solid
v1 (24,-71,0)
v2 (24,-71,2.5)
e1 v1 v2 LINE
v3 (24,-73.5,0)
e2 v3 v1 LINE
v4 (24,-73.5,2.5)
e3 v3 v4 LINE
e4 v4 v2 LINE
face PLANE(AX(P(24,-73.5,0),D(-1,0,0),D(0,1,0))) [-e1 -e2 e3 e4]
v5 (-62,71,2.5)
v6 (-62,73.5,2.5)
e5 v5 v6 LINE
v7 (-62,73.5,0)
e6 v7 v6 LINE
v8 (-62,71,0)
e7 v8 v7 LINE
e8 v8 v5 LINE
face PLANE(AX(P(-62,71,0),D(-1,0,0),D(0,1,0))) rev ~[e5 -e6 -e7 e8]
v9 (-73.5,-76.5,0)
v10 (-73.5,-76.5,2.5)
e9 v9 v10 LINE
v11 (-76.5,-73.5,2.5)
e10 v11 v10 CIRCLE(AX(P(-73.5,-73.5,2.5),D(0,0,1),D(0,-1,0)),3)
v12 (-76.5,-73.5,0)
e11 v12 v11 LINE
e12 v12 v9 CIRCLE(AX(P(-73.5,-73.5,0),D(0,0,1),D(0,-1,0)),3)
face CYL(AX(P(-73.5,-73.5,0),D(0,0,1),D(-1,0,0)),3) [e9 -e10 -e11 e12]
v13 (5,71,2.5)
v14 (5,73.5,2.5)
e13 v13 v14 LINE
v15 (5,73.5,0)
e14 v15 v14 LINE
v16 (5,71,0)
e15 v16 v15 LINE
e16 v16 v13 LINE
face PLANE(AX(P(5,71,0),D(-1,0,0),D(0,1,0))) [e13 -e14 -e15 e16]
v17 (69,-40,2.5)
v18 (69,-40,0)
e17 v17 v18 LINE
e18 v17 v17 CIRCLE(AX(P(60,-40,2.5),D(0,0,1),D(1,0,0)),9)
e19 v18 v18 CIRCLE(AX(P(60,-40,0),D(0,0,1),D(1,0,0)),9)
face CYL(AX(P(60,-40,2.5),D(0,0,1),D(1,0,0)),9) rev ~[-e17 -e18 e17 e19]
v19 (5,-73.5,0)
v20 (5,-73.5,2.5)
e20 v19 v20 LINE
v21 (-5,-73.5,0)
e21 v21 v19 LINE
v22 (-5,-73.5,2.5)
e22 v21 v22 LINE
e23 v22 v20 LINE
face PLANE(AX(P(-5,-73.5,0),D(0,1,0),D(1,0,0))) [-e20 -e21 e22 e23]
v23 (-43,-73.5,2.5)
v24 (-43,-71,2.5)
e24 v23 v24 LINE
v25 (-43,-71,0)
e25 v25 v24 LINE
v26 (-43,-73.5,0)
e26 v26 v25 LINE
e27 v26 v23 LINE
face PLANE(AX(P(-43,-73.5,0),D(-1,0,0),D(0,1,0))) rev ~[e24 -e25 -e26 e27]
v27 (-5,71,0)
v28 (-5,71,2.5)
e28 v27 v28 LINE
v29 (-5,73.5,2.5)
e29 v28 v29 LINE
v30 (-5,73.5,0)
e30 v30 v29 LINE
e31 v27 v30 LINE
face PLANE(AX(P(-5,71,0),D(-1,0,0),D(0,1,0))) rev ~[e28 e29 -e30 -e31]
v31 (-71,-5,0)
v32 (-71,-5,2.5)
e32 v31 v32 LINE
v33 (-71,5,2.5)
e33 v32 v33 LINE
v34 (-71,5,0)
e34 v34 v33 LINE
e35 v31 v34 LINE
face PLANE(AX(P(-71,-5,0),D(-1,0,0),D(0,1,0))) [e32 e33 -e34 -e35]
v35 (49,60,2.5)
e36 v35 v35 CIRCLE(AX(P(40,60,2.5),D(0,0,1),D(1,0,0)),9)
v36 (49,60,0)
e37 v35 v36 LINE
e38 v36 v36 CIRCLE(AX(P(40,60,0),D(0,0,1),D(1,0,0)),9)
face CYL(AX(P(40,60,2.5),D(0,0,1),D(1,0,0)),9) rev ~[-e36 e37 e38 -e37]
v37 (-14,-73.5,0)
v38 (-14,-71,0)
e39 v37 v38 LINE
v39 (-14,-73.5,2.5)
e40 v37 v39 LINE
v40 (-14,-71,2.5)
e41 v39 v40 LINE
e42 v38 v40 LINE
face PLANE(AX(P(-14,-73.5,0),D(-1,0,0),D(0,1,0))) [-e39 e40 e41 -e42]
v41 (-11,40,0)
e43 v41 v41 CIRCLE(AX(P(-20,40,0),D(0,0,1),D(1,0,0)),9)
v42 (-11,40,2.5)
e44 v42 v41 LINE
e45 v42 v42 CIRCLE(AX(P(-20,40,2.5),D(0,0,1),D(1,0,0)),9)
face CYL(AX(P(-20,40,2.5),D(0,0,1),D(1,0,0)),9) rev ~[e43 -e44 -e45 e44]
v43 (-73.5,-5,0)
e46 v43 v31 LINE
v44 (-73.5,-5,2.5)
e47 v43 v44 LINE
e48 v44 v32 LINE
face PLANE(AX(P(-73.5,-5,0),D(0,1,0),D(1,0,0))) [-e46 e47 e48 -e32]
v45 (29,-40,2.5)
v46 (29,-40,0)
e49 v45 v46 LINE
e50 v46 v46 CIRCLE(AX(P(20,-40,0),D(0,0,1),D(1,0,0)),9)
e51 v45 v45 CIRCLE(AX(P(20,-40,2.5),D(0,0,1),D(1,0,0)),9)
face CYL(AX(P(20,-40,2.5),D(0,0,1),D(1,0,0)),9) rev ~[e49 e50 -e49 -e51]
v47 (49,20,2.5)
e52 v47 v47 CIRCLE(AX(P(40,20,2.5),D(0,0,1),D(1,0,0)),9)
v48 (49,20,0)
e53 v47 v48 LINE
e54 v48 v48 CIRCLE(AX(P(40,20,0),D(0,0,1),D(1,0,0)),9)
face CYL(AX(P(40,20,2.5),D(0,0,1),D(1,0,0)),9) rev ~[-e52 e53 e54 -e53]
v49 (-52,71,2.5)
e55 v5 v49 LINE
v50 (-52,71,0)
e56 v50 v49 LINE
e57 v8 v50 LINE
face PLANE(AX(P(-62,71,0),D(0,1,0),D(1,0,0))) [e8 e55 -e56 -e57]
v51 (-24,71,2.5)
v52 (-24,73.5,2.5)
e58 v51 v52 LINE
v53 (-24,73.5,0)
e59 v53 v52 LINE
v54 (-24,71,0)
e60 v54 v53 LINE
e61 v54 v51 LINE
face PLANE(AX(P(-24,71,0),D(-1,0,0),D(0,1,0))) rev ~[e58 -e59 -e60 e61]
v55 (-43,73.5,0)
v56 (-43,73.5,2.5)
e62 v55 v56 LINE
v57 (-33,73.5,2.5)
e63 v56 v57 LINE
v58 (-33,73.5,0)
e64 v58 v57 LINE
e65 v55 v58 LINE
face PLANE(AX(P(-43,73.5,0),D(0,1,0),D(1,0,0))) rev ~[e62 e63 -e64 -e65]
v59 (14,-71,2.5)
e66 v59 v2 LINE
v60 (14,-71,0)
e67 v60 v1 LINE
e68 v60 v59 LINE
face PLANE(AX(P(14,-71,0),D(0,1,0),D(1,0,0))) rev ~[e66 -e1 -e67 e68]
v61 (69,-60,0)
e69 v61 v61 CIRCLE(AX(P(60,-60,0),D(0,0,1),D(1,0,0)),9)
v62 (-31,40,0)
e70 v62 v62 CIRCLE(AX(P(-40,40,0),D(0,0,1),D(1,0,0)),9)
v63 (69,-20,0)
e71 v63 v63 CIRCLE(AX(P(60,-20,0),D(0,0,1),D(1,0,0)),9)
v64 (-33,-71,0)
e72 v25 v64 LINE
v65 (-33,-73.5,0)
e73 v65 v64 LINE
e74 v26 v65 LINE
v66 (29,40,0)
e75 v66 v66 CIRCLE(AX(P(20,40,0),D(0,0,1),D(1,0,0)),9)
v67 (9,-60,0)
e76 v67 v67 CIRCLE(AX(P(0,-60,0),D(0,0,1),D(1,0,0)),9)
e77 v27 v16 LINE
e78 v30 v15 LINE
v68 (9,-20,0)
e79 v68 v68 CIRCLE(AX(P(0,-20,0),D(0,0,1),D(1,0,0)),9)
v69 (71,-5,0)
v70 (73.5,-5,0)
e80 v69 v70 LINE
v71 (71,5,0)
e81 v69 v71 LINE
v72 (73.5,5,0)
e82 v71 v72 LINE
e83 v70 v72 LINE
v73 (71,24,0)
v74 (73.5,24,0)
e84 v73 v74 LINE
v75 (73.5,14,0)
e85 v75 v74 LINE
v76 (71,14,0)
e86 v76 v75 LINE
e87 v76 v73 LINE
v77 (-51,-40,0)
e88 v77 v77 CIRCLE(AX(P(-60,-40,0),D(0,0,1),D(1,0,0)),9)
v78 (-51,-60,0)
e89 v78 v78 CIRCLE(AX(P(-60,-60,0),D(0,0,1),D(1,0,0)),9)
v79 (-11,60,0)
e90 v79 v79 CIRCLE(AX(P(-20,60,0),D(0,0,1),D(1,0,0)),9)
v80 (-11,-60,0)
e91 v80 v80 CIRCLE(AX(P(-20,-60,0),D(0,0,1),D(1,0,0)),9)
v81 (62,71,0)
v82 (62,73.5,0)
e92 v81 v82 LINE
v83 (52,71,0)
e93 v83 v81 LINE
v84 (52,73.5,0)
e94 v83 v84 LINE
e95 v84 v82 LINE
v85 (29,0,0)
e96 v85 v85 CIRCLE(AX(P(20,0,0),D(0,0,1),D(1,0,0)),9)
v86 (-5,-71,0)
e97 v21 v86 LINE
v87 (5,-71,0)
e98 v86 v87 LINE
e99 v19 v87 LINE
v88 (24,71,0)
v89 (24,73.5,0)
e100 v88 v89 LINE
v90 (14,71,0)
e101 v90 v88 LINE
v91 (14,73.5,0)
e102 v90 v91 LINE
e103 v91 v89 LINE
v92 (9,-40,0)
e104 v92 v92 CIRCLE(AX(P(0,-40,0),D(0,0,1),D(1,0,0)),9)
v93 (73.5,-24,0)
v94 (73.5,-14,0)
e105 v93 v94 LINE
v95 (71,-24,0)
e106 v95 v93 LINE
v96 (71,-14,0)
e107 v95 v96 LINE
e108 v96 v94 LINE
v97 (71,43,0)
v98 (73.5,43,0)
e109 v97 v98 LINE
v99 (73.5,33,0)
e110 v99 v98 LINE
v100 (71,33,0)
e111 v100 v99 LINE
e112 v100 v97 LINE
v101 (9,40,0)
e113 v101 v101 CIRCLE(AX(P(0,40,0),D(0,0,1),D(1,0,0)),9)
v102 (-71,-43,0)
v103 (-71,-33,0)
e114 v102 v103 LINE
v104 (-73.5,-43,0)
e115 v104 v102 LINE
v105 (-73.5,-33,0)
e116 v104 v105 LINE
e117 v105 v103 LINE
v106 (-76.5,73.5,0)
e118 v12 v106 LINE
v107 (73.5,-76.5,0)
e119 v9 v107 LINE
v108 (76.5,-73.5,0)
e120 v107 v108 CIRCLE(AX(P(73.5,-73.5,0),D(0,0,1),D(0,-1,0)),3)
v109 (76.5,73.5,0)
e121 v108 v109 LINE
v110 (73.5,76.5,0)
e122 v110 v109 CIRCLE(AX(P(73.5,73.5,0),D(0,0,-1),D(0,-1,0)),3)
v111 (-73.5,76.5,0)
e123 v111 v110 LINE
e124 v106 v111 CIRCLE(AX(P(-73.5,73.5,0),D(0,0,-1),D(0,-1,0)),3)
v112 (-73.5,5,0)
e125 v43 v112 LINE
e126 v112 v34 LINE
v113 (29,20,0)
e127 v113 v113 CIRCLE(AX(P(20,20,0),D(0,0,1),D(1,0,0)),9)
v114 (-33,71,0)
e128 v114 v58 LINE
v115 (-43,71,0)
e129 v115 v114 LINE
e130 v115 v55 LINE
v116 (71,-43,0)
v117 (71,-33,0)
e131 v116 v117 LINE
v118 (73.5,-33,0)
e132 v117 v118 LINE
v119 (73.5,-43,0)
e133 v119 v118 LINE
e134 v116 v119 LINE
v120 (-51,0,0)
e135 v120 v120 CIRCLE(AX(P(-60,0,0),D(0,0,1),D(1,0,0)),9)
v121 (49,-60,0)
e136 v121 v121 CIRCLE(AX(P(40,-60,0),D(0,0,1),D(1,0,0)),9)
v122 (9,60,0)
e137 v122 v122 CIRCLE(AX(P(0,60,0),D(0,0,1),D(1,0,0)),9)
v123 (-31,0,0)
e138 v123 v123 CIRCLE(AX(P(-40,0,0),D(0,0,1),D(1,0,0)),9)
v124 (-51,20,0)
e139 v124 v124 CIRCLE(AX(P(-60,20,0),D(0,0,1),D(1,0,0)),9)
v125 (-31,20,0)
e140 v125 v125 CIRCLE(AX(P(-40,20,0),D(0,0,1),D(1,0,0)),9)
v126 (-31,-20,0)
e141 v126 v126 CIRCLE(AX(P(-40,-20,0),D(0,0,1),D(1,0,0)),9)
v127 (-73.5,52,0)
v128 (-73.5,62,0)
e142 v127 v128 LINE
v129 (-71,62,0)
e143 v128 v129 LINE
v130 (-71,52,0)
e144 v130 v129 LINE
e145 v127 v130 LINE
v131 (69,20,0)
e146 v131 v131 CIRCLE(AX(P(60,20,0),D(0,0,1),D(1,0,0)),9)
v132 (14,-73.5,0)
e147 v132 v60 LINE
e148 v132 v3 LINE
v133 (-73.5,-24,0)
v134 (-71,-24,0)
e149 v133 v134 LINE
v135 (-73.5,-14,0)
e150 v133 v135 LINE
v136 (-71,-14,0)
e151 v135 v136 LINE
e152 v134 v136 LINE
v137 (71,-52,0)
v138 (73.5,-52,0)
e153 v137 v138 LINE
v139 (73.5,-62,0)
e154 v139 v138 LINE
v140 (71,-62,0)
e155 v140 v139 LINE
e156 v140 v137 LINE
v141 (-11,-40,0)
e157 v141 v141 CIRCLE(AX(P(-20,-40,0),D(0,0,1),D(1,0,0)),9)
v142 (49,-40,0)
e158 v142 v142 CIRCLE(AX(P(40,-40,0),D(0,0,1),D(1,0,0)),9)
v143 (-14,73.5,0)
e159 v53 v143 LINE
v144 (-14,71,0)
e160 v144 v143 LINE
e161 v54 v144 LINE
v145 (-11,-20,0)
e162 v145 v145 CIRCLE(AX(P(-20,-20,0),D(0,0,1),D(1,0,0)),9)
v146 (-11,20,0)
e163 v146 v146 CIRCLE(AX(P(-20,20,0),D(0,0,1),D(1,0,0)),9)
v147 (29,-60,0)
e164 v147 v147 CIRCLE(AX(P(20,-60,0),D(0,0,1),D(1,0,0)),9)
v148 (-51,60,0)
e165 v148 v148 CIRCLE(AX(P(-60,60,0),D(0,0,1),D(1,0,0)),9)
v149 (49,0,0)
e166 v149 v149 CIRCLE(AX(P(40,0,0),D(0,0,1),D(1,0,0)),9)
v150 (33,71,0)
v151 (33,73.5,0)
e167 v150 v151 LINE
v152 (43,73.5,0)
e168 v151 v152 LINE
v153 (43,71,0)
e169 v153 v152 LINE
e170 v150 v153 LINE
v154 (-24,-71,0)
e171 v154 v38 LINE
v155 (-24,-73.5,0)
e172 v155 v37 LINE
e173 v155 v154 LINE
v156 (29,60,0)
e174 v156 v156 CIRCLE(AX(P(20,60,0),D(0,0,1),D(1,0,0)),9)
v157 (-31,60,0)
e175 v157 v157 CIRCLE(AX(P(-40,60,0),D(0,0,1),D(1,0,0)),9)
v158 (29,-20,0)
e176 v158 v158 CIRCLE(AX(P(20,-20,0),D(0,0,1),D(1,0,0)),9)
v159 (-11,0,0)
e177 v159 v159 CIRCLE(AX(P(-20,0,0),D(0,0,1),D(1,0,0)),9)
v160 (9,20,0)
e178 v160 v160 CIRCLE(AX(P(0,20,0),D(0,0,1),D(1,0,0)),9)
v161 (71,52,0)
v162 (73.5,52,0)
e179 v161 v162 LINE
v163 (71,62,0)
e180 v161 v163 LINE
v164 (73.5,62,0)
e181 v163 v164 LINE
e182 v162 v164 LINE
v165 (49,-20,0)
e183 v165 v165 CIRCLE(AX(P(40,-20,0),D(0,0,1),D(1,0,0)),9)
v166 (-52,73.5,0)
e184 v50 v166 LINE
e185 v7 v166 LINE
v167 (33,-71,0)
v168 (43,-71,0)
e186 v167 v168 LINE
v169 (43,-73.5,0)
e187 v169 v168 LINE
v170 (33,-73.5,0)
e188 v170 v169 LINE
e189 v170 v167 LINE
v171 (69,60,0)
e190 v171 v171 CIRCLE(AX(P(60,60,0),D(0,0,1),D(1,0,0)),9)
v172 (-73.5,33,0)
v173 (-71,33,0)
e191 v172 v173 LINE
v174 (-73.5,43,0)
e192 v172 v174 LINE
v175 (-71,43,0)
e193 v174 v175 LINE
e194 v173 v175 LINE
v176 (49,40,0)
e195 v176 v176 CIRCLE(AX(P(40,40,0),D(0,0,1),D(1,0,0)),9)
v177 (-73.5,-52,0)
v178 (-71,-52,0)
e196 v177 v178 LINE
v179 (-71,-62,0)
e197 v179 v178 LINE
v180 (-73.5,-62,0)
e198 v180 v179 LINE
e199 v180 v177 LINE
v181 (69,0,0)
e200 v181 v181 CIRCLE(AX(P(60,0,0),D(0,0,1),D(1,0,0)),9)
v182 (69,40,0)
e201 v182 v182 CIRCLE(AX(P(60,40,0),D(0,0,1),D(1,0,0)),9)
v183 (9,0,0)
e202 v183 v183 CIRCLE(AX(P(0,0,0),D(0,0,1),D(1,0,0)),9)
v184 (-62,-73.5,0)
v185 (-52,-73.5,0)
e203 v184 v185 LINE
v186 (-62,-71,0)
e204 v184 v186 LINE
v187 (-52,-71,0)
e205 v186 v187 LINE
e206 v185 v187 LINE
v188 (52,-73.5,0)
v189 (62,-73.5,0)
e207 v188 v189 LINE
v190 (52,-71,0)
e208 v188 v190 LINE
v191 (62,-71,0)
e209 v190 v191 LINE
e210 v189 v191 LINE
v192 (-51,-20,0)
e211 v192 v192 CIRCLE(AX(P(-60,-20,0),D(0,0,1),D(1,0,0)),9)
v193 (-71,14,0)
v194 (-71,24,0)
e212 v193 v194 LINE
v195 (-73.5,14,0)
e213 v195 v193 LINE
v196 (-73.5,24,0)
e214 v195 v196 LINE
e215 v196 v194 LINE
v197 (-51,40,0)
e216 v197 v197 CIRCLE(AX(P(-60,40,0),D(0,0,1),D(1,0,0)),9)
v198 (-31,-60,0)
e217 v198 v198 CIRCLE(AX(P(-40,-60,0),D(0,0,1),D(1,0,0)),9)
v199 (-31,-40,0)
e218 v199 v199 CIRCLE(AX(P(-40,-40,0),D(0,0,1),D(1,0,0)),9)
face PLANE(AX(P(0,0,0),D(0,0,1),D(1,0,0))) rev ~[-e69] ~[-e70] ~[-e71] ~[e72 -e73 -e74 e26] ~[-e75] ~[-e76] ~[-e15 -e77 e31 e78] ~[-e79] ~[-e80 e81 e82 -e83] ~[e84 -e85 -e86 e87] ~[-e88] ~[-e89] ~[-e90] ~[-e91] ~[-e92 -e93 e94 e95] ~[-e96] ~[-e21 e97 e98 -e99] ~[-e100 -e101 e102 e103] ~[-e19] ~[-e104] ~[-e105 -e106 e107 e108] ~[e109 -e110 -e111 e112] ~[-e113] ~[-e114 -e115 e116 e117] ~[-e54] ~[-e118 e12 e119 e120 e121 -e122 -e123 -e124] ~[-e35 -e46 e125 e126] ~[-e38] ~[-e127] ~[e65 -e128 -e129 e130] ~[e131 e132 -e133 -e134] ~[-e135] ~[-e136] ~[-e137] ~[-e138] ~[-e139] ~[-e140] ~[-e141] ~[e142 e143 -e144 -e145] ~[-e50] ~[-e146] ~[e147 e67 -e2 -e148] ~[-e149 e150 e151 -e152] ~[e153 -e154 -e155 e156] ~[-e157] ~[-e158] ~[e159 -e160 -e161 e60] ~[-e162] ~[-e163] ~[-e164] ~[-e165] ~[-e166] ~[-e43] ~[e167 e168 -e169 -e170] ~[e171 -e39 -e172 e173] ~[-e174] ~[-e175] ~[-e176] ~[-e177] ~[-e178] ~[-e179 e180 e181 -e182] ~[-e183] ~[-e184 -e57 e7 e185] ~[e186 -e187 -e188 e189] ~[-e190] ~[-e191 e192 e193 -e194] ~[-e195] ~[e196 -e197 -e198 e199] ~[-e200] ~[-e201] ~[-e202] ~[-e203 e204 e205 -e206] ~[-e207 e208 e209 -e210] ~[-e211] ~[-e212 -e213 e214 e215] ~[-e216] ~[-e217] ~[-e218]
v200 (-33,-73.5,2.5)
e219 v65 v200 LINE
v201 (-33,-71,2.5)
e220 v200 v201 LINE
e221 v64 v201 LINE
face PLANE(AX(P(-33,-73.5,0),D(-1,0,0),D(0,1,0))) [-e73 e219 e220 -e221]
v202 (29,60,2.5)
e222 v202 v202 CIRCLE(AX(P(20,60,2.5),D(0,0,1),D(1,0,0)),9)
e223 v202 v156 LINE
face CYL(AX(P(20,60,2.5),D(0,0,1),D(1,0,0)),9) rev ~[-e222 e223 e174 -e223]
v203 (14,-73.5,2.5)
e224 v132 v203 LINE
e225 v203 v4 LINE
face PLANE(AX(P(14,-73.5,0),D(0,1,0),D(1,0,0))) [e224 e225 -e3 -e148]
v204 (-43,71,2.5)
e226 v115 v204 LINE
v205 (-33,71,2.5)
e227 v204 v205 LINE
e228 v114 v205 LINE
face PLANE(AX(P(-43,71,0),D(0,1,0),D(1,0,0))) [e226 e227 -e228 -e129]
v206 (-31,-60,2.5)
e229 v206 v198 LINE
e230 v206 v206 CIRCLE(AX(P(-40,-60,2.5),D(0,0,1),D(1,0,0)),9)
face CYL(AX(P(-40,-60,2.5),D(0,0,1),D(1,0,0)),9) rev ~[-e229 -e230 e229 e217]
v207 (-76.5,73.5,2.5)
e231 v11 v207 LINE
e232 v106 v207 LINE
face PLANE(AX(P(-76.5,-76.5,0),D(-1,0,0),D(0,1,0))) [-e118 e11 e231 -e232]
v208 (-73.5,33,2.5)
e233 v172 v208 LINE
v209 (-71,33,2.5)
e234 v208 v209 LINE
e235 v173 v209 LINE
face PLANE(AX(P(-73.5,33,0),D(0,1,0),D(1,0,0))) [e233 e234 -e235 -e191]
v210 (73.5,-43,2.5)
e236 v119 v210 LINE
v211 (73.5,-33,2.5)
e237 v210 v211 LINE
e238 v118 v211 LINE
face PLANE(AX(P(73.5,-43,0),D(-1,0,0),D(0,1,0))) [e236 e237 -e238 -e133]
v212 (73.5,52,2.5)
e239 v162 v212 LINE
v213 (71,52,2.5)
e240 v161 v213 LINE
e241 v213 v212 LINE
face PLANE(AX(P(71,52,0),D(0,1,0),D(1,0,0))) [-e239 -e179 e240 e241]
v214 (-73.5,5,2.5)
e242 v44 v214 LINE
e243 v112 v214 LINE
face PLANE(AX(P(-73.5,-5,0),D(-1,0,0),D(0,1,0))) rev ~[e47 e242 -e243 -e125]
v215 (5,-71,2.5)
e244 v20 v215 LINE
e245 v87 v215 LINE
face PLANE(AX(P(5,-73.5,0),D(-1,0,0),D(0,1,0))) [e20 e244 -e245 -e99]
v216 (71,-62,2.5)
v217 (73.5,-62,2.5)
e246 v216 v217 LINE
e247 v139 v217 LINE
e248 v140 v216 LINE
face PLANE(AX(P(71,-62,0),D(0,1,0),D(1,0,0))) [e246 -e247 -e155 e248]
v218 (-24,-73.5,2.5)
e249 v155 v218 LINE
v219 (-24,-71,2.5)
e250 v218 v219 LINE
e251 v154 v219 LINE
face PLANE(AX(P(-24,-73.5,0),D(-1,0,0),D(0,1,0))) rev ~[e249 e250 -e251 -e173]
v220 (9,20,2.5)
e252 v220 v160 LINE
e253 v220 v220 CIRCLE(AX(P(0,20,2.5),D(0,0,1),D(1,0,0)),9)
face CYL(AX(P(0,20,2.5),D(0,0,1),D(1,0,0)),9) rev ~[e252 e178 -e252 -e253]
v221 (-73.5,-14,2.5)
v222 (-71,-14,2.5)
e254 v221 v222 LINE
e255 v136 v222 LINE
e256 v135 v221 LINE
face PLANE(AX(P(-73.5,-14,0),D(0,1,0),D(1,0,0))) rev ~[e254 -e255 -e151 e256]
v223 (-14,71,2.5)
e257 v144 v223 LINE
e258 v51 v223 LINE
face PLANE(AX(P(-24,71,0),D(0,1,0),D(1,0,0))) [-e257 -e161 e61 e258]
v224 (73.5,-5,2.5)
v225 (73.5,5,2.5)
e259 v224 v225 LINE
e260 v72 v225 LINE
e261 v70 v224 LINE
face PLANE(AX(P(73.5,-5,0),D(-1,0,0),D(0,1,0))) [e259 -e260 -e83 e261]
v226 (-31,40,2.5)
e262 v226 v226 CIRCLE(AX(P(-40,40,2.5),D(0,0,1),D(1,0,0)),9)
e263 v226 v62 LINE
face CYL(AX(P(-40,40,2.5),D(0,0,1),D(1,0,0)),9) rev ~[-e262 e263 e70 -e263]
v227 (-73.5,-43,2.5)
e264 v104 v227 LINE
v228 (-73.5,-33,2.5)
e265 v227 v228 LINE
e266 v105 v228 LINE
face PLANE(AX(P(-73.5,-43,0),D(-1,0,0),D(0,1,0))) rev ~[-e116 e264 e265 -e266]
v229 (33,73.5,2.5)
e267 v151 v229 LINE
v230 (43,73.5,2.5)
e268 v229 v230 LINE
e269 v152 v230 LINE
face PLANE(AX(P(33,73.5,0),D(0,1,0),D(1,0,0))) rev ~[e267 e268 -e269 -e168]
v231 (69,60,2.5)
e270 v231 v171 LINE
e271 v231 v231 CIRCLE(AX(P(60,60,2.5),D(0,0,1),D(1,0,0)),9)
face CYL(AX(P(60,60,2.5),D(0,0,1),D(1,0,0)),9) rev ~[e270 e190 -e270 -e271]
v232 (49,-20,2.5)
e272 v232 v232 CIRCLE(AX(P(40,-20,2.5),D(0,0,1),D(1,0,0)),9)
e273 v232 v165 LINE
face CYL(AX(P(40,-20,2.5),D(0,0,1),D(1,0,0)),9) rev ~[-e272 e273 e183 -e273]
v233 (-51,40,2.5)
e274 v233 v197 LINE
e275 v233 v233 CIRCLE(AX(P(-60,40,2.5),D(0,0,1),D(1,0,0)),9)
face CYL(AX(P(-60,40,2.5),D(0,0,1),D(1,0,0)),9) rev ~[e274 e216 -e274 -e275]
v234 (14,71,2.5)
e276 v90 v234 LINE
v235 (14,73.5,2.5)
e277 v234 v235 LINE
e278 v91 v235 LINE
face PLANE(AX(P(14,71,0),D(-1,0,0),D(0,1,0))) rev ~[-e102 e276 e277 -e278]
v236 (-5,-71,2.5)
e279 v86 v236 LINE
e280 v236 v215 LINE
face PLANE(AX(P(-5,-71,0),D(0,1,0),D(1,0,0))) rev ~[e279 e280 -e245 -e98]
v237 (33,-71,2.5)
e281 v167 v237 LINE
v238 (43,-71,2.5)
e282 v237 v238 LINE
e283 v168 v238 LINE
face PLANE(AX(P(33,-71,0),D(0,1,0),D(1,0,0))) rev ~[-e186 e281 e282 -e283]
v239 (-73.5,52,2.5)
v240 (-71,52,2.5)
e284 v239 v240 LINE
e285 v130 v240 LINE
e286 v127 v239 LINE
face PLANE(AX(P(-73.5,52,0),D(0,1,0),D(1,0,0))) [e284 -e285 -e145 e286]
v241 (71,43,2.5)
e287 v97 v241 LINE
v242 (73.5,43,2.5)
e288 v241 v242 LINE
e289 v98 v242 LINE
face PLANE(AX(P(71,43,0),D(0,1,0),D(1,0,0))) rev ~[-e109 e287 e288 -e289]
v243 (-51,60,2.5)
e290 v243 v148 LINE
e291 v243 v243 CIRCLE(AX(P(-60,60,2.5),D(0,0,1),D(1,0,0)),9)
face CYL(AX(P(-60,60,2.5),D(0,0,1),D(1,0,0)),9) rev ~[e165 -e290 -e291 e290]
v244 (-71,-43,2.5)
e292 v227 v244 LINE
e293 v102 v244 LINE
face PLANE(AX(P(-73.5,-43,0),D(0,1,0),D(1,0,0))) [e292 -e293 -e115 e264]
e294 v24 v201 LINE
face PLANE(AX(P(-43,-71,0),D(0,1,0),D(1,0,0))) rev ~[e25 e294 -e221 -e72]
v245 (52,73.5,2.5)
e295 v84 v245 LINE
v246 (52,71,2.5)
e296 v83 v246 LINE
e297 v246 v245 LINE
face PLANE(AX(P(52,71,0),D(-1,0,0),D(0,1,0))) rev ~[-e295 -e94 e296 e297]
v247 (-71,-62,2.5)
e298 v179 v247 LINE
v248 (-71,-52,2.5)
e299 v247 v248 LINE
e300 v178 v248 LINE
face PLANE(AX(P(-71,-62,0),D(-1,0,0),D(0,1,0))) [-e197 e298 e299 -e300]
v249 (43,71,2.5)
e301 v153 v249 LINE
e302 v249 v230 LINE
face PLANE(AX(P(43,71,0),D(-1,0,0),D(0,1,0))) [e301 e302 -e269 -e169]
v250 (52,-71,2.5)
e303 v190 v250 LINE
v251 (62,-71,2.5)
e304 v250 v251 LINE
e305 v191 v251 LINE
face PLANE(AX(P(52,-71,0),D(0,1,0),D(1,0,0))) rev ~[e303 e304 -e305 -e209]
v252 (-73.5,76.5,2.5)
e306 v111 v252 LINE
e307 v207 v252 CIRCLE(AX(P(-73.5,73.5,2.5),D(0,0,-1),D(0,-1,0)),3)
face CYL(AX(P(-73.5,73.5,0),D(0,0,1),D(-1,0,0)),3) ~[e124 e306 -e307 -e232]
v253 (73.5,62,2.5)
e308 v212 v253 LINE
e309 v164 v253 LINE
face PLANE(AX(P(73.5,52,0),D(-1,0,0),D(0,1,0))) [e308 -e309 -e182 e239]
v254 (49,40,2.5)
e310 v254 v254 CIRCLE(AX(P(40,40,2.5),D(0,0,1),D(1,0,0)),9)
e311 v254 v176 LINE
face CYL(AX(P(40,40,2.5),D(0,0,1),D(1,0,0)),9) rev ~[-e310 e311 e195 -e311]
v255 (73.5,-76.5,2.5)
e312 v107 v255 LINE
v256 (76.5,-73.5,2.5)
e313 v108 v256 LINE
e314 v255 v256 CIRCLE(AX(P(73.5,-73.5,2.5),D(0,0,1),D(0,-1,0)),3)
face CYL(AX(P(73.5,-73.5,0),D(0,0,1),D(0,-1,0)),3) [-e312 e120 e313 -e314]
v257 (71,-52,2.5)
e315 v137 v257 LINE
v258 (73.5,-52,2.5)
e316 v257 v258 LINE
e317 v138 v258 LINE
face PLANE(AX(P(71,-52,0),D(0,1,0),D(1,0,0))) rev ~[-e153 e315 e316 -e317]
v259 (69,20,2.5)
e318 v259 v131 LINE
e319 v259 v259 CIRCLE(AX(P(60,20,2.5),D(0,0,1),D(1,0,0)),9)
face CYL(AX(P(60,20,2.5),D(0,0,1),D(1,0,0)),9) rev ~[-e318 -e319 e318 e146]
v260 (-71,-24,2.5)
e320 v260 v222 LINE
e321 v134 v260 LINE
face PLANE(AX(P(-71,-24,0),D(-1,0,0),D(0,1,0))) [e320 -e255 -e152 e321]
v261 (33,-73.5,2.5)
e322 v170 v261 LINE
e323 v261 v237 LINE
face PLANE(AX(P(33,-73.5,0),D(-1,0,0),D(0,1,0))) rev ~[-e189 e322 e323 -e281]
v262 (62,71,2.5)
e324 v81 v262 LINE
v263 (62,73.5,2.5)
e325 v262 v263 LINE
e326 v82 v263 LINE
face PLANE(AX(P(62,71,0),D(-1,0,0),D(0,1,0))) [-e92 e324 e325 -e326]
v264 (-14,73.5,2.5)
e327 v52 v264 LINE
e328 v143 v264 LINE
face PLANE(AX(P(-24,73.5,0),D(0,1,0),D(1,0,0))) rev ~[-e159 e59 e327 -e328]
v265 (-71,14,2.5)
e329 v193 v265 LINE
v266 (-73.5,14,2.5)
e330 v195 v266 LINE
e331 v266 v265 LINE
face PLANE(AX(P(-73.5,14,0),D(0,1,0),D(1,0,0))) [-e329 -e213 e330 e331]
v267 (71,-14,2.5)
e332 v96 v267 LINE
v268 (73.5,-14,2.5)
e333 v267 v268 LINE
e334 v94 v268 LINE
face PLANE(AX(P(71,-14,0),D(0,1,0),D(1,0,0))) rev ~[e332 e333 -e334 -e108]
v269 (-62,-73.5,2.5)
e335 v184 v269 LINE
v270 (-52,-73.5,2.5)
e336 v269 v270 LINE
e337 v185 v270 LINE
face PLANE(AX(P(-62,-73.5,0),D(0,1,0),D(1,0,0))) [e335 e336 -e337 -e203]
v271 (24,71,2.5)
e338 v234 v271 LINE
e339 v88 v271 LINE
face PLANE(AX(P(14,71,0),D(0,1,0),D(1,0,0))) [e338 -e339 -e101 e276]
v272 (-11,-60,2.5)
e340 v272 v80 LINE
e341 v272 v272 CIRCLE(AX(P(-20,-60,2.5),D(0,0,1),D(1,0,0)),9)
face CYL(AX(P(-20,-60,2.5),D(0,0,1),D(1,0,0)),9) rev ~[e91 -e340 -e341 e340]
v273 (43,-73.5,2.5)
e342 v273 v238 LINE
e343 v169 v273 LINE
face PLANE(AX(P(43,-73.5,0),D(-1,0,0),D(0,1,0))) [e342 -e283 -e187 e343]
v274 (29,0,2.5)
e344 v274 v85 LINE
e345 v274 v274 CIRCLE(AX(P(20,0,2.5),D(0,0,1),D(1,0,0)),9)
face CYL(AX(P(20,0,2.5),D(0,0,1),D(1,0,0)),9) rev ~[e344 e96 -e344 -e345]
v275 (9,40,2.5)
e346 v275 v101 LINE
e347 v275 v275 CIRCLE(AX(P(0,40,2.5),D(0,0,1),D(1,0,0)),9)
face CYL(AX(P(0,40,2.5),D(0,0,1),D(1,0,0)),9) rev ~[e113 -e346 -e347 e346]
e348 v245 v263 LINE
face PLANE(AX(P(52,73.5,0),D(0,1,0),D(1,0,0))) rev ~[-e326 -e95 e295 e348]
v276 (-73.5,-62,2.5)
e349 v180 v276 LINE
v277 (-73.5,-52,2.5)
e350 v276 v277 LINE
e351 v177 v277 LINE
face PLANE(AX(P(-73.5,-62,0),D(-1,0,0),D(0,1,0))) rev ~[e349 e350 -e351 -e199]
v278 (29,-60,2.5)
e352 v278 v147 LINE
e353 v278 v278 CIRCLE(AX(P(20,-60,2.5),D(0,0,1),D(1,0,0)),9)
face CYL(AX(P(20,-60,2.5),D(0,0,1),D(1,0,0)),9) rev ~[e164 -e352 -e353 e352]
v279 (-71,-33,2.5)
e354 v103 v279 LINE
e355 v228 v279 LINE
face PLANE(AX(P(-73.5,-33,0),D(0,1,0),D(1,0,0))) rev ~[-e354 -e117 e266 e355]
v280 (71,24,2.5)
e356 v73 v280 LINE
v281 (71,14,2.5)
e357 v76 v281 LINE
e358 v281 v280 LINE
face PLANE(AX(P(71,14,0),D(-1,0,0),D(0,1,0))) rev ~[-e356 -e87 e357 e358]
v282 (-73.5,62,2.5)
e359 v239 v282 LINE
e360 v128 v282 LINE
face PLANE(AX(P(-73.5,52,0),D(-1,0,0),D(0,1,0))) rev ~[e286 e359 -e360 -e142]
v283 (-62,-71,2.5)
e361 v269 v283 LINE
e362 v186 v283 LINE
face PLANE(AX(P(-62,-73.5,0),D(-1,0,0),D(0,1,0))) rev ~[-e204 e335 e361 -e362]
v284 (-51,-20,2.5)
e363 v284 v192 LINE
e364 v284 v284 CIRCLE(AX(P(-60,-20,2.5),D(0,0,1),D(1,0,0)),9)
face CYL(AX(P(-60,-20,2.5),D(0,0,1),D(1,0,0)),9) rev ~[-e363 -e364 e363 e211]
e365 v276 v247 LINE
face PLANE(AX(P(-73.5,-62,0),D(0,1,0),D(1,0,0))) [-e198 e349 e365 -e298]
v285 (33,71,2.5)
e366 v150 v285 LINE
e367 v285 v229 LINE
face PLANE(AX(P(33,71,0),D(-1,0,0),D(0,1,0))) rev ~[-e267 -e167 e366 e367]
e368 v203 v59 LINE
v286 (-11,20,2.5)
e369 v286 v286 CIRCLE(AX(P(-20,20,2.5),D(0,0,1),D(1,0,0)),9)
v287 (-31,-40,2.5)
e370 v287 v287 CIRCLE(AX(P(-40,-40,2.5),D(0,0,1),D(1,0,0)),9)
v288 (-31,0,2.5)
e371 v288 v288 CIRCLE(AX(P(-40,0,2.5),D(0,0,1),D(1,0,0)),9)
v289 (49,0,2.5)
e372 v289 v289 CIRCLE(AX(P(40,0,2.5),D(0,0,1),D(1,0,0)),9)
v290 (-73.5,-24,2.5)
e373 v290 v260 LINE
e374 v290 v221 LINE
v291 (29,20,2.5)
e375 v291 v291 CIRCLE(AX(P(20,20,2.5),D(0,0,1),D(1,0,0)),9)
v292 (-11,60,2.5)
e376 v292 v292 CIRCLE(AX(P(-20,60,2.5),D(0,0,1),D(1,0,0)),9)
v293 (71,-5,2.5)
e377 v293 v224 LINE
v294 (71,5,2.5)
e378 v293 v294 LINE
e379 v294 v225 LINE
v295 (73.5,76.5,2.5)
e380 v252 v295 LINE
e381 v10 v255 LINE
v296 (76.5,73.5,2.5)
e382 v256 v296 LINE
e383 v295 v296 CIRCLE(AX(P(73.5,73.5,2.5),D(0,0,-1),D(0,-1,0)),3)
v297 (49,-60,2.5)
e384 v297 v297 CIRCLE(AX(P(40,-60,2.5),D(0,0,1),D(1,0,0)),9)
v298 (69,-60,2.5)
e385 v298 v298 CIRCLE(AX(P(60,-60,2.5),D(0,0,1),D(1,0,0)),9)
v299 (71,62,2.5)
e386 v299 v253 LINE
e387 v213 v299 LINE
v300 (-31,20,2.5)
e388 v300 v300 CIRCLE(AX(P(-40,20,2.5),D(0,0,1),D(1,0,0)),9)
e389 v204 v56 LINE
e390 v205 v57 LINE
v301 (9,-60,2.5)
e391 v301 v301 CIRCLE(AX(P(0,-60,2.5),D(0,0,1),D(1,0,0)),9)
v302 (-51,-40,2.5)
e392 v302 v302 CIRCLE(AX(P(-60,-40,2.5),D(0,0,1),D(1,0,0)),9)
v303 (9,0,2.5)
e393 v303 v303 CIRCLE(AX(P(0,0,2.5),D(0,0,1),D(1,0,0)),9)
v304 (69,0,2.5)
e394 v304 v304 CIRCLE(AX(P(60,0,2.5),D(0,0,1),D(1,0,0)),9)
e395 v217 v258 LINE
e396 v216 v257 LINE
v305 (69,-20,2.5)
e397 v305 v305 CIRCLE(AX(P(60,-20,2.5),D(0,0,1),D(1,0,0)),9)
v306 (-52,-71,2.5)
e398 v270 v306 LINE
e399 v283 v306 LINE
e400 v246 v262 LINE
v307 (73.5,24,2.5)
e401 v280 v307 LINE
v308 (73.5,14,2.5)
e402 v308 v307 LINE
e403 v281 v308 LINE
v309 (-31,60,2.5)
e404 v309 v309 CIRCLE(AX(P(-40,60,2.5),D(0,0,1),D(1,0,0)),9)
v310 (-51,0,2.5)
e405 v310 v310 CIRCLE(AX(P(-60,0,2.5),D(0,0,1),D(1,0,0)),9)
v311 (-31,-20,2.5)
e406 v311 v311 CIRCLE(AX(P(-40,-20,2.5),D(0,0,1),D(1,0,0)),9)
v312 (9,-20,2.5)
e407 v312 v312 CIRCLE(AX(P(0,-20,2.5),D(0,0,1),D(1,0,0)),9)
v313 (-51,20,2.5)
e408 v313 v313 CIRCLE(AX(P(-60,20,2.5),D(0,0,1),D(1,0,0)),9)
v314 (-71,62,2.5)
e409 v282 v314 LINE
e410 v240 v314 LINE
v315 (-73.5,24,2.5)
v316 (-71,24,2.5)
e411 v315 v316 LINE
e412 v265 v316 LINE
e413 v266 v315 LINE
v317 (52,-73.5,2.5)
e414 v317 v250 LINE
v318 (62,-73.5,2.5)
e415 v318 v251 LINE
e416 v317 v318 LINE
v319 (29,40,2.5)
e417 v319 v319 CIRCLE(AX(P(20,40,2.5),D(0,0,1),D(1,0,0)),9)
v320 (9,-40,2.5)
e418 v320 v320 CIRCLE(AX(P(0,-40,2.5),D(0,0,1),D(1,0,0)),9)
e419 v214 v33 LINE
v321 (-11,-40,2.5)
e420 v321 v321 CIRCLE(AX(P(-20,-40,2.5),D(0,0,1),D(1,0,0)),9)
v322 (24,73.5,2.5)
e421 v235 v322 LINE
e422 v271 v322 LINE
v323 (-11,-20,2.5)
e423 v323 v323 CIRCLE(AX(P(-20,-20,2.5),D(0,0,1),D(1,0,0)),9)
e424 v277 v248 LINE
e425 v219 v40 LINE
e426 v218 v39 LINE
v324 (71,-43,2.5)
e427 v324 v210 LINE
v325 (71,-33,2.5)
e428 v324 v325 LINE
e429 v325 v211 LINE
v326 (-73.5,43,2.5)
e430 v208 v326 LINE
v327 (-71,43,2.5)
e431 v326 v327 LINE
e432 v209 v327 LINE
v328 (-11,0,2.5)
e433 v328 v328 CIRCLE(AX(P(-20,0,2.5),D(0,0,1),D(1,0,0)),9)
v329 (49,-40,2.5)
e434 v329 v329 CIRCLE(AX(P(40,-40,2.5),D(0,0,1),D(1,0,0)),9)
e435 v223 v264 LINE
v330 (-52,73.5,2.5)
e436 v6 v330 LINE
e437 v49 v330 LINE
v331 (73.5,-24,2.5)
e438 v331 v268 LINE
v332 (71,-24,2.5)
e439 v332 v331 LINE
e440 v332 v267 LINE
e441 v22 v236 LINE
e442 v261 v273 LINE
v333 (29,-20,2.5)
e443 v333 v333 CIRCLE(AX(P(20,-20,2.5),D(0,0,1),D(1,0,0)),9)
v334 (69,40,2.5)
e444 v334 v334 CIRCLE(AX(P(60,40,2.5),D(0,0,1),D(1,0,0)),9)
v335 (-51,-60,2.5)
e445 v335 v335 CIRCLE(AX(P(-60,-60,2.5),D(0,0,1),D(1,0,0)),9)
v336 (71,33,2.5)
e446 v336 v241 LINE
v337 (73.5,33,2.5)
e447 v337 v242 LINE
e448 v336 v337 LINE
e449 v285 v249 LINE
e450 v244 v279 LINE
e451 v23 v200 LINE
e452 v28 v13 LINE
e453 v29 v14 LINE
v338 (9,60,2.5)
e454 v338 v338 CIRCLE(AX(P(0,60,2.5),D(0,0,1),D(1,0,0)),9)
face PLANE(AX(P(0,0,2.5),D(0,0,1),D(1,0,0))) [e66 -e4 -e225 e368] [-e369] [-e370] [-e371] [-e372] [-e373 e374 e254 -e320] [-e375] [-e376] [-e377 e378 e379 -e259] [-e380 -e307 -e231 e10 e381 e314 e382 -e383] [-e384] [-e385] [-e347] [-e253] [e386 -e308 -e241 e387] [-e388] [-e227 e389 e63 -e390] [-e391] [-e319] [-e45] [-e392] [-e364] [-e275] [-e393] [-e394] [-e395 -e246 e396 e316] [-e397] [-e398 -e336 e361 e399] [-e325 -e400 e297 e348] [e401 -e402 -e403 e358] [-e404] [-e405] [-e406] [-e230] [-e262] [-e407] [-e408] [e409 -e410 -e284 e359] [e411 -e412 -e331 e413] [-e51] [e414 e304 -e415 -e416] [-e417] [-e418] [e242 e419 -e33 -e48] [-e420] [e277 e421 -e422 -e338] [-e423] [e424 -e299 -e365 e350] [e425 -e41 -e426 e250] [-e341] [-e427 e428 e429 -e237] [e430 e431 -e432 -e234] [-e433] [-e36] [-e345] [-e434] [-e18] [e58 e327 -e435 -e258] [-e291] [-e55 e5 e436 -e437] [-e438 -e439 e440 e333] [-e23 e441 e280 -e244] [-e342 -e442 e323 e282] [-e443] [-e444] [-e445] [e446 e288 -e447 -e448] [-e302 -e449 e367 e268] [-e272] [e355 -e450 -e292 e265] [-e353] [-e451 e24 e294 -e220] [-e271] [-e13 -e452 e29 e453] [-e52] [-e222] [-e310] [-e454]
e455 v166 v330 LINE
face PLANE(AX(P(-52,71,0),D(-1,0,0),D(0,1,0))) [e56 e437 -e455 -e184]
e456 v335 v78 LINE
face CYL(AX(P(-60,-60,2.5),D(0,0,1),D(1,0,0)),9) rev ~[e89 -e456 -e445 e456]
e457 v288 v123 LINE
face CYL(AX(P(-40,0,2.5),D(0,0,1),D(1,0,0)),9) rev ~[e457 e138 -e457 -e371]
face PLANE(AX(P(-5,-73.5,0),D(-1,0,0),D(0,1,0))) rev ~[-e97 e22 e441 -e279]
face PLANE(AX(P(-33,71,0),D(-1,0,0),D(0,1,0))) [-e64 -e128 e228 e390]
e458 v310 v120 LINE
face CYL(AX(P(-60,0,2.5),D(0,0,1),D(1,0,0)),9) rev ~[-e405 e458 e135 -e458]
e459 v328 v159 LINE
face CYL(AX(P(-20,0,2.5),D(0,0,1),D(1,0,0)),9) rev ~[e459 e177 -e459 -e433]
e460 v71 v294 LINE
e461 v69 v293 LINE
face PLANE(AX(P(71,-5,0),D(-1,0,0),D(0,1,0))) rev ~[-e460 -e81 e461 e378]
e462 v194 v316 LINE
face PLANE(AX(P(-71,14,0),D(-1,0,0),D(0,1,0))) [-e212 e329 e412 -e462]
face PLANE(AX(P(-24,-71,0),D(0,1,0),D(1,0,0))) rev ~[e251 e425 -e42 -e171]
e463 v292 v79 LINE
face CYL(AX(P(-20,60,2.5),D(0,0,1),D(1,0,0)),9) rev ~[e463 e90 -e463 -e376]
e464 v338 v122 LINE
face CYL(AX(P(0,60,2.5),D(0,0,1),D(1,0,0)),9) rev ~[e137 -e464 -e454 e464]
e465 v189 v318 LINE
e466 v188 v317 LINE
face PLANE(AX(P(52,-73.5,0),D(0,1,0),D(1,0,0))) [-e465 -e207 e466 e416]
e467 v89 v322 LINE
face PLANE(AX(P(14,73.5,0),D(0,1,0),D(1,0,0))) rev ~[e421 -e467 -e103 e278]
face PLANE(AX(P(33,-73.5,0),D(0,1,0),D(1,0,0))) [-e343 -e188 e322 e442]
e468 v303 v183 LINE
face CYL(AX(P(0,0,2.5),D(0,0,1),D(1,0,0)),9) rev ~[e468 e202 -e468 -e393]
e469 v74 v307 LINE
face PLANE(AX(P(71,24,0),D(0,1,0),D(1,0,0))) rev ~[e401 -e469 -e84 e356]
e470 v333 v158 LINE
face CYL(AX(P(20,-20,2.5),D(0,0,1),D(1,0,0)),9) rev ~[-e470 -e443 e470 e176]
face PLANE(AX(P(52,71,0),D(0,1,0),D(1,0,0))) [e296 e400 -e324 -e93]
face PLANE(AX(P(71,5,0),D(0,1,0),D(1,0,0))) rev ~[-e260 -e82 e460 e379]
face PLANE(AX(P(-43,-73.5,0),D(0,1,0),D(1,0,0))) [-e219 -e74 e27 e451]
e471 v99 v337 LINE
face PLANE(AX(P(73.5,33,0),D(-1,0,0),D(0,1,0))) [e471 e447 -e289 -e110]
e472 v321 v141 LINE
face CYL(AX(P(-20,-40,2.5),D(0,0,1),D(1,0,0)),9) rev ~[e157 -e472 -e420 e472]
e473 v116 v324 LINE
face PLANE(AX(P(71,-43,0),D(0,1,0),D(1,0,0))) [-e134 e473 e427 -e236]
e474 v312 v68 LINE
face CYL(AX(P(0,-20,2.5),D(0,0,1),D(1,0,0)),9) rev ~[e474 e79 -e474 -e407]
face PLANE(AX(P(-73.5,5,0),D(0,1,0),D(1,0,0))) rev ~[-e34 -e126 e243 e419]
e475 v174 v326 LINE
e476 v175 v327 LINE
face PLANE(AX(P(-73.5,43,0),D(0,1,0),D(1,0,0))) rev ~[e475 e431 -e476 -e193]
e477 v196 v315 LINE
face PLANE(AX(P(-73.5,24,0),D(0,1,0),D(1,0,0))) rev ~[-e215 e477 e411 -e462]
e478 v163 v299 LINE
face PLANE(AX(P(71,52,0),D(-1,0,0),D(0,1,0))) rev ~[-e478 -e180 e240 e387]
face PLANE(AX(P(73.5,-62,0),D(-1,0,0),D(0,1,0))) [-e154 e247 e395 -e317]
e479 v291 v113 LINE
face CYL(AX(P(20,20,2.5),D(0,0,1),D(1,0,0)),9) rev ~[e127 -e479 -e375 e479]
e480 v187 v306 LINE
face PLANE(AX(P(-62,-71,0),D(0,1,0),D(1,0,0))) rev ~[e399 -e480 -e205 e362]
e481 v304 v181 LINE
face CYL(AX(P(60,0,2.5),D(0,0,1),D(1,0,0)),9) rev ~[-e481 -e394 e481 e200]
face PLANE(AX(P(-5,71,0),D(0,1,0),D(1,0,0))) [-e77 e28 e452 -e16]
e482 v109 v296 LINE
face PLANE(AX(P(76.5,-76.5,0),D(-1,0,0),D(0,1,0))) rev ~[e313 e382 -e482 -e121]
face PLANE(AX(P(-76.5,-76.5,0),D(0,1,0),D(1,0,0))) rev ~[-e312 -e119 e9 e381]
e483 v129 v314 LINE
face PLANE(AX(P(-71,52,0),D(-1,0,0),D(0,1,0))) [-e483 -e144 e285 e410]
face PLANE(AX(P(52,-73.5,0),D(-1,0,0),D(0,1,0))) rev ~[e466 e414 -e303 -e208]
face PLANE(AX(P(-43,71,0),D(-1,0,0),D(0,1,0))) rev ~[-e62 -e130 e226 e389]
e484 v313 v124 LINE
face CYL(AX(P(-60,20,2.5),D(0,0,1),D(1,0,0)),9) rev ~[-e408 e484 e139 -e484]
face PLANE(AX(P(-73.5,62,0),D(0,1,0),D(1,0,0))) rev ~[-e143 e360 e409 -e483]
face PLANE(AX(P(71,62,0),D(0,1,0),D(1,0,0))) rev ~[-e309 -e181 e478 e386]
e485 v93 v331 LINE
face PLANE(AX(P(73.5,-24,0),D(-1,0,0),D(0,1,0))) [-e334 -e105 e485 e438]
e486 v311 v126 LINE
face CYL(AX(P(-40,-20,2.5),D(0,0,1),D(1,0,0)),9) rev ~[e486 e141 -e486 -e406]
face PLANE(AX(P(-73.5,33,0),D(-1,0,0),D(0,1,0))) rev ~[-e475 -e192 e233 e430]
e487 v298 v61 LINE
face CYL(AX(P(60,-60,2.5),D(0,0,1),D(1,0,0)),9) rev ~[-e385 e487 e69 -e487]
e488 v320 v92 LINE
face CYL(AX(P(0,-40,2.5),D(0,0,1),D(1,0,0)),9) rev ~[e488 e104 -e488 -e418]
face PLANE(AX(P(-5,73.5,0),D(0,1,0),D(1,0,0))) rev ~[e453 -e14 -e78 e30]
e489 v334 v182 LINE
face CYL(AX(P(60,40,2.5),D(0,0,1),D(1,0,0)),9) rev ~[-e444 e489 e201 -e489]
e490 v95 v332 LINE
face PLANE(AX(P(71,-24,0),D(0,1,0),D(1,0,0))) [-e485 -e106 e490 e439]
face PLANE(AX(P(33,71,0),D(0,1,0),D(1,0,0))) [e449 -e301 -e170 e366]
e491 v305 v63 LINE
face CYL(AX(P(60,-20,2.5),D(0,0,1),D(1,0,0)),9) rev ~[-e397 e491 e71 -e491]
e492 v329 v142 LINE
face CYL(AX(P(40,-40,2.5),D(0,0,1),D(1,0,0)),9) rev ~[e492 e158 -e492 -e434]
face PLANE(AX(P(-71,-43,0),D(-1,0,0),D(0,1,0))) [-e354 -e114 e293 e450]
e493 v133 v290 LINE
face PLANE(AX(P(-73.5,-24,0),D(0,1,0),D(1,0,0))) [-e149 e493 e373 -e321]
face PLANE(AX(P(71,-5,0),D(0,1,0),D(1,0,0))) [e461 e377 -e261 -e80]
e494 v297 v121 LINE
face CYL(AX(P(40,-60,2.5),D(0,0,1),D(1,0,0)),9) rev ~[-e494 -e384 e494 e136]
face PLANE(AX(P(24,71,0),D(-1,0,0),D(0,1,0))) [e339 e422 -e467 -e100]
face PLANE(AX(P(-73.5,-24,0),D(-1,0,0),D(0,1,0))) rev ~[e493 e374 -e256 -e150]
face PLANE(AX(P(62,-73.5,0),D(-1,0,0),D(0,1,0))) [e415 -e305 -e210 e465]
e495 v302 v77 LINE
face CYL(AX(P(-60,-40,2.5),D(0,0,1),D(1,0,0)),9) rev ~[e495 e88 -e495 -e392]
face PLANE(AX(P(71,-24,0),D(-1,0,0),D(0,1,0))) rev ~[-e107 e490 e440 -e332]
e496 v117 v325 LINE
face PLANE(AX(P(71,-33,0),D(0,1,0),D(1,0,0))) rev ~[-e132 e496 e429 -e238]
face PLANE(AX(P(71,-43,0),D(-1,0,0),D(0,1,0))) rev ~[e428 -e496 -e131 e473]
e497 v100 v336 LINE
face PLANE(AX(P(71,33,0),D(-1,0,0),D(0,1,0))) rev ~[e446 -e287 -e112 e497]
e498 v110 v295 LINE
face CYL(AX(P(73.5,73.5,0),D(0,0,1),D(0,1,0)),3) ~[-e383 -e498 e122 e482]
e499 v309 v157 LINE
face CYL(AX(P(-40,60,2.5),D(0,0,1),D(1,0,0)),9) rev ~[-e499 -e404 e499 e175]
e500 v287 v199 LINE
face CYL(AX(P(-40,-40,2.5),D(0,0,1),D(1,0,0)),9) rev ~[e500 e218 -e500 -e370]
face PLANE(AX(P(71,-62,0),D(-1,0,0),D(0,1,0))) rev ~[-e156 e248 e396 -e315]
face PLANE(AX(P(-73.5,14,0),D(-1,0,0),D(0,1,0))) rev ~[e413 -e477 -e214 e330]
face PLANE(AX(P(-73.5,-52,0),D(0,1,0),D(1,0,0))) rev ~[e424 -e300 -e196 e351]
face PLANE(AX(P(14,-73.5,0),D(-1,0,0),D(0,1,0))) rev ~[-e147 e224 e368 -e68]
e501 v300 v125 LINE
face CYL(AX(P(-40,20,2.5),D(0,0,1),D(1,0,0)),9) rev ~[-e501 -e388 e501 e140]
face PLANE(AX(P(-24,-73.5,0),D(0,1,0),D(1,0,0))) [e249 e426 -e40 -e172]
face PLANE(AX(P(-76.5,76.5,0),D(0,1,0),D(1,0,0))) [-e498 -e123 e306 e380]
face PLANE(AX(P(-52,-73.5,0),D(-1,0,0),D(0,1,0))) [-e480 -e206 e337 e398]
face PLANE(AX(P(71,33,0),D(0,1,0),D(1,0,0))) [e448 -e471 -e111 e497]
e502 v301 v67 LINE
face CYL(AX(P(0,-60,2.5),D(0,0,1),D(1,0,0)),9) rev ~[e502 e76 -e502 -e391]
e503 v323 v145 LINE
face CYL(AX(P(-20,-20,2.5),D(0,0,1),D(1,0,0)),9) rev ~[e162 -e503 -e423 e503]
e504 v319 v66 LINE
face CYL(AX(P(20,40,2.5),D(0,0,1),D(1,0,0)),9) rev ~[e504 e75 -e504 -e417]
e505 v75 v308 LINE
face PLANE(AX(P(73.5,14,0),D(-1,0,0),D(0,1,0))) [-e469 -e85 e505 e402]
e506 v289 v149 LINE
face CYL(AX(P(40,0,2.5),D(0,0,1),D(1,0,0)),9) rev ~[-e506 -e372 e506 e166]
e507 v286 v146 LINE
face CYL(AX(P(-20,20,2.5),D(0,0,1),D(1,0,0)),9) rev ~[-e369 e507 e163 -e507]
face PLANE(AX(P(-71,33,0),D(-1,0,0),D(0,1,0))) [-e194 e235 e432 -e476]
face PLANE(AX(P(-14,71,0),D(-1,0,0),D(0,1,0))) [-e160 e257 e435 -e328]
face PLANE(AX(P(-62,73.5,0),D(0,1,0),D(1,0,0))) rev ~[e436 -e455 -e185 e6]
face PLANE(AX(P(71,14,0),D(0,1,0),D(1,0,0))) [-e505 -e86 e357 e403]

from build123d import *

# Parameters (mm, degrees)
SKETCH1_W           = 153
SKETCH1_H           = 153
SKETCH1_W_2         = 2.5
SKETCH1_H_2         = 10
SKETCH1_W_3         = 10
SKETCH1_H_3         = 2.5
BOSS_EXTRUDE1_DEPTH = 2.5
SKETCH2_R           = 9
CUT_EXTRUDE1_DEPTH  = 2.5
FILLET1_R           = 3


with BuildPart() as part:
    # Sketch1 → Boss-Extrude1 (new body)
    with BuildSketch(Plane.XY):
        Rectangle(SKETCH1_W, SKETCH1_H)
        with Locations((-72.25, 57)):
            Rectangle(SKETCH1_W_2, SKETCH1_H_2, mode=Mode.SUBTRACT)
        with Locations((-72.25, 38)):
            Rectangle(SKETCH1_W_2, SKETCH1_H_2, mode=Mode.SUBTRACT)
        with Locations((-72.25, 19)):
            Rectangle(SKETCH1_W_2, SKETCH1_H_2, mode=Mode.SUBTRACT)
        with Locations((-72.25, 0)):
            Rectangle(SKETCH1_W_2, SKETCH1_H_2, mode=Mode.SUBTRACT)
        with Locations((-72.25, -19)):
            Rectangle(SKETCH1_W_2, SKETCH1_H_2, mode=Mode.SUBTRACT)
        with Locations((-72.25, -38)):
            Rectangle(SKETCH1_W_2, SKETCH1_H_2, mode=Mode.SUBTRACT)
        with Locations((-72.25, -57)):
            Rectangle(SKETCH1_W_2, SKETCH1_H_2, mode=Mode.SUBTRACT)
        with Locations((72.25, -19)):
            Rectangle(SKETCH1_W_2, SKETCH1_H_2, mode=Mode.SUBTRACT)
        with Locations((72.25, -38)):
            Rectangle(SKETCH1_W_2, SKETCH1_H_2, mode=Mode.SUBTRACT)
        with Locations((72.25, -57)):
            Rectangle(SKETCH1_W_2, SKETCH1_H_2, mode=Mode.SUBTRACT)
        with Locations((72.25, 0)):
            Rectangle(SKETCH1_W_2, SKETCH1_H_2, mode=Mode.SUBTRACT)
        with Locations((72.25, 19)):
            Rectangle(SKETCH1_W_2, SKETCH1_H_2, mode=Mode.SUBTRACT)
        with Locations((72.25, 38)):
            Rectangle(SKETCH1_W_2, SKETCH1_H_2, mode=Mode.SUBTRACT)
        with Locations((72.25, 57)):
            Rectangle(SKETCH1_W_2, SKETCH1_H_2, mode=Mode.SUBTRACT)
        with Locations((-57, -72.25)):
            Rectangle(SKETCH1_W_3, SKETCH1_H_3, mode=Mode.SUBTRACT)
        with Locations((-57, 72.25)):
            Rectangle(SKETCH1_W_3, SKETCH1_H_3, mode=Mode.SUBTRACT)
        with Locations((-38, 72.25)):
            Rectangle(SKETCH1_W_3, SKETCH1_H_3, mode=Mode.SUBTRACT)
        with Locations((-38, -72.25)):
            Rectangle(SKETCH1_W_3, SKETCH1_H_3, mode=Mode.SUBTRACT)
        with Locations((-19, 72.25)):
            Rectangle(SKETCH1_W_3, SKETCH1_H_3, mode=Mode.SUBTRACT)
        with Locations((-19, -72.25)):
            Rectangle(SKETCH1_W_3, SKETCH1_H_3, mode=Mode.SUBTRACT)
        with Locations((0, 72.25)):
            Rectangle(SKETCH1_W_3, SKETCH1_H_3, mode=Mode.SUBTRACT)
        with Locations((0, -72.25)):
            Rectangle(SKETCH1_W_3, SKETCH1_H_3, mode=Mode.SUBTRACT)
        with Locations((19, 72.25)):
            Rectangle(SKETCH1_W_3, SKETCH1_H_3, mode=Mode.SUBTRACT)
        with Locations((19, -72.25)):
            Rectangle(SKETCH1_W_3, SKETCH1_H_3, mode=Mode.SUBTRACT)
        with Locations((38, 72.25)):
            Rectangle(SKETCH1_W_3, SKETCH1_H_3, mode=Mode.SUBTRACT)
        with Locations((38, -72.25)):
            Rectangle(SKETCH1_W_3, SKETCH1_H_3, mode=Mode.SUBTRACT)
        with Locations((57, 72.25)):
            Rectangle(SKETCH1_W_3, SKETCH1_H_3, mode=Mode.SUBTRACT)
        with Locations((57, -72.25)):
            Rectangle(SKETCH1_W_3, SKETCH1_H_3, mode=Mode.SUBTRACT)
    extrude(amount=BOSS_EXTRUDE1_DEPTH)

    # Sketch2 → Cut-Extrude1 (cut)
    with BuildSketch(Plane.XY.offset(2.5)):
        with Locations((60, 60)):
            Circle(SKETCH2_R)
        with Locations((40, 60)):
            Circle(SKETCH2_R)
        with Locations((20, 60)):
            Circle(SKETCH2_R)
        with Locations((0, 60)):
            Circle(SKETCH2_R)
        with Locations((-20, 60)):
            Circle(SKETCH2_R)
        with Locations((-40, 60)):
            Circle(SKETCH2_R)
        with Locations((-60, 60)):
            Circle(SKETCH2_R)
        with Locations((40, 40)):
            Circle(SKETCH2_R)
        with Locations((20, 40)):
            Circle(SKETCH2_R)
        with Locations((0, 40)):
            Circle(SKETCH2_R)
        with Locations((-20, 40)):
            Circle(SKETCH2_R)
        with Locations((-40, 40)):
            Circle(SKETCH2_R)
        with Locations((-60, 40)):
            Circle(SKETCH2_R)
        with Locations((40, 20)):
            Circle(SKETCH2_R)
        with Locations((20, 20)):
            Circle(SKETCH2_R)
        with Locations((0, 20)):
            Circle(SKETCH2_R)
        with Locations((-20, 20)):
            Circle(SKETCH2_R)
        with Locations((-40, 20)):
            Circle(SKETCH2_R)
        with Locations((-60, 20)):
            Circle(SKETCH2_R)
        with Locations((40, 0)):
            Circle(SKETCH2_R)
        with Locations((20, 0)):
            Circle(SKETCH2_R)
        Circle(SKETCH2_R)
        with Locations((-20, 0)):
            Circle(SKETCH2_R)
        with Locations((-40, 0)):
            Circle(SKETCH2_R)
        with Locations((-60, 0)):
            Circle(SKETCH2_R)
        with Locations((40, -20)):
            Circle(SKETCH2_R)
        with Locations((20, -20)):
            Circle(SKETCH2_R)
        with Locations((0, -20)):
            Circle(SKETCH2_R)
        with Locations((-20, -20)):
            Circle(SKETCH2_R)
        with Locations((-40, -20)):
            Circle(SKETCH2_R)
        with Locations((-60, -20)):
            Circle(SKETCH2_R)
        with Locations((40, -40)):
            Circle(SKETCH2_R)
        with Locations((20, -40)):
            Circle(SKETCH2_R)
        with Locations((0, -40)):
            Circle(SKETCH2_R)
        with Locations((-20, -40)):
            Circle(SKETCH2_R)
        with Locations((-40, -40)):
            Circle(SKETCH2_R)
        with Locations((-60, -40)):
            Circle(SKETCH2_R)
        with Locations((40, -60)):
            Circle(SKETCH2_R)
        with Locations((20, -60)):
            Circle(SKETCH2_R)
        with Locations((0, -60)):
            Circle(SKETCH2_R)
        with Locations((-20, -60)):
            Circle(SKETCH2_R)
        with Locations((-40, -60)):
            Circle(SKETCH2_R)
        with Locations((-60, -60)):
            Circle(SKETCH2_R)
        with Locations((60, 40)):
            Circle(SKETCH2_R)
        with Locations((60, 20)):
            Circle(SKETCH2_R)
        with Locations((60, 0)):
            Circle(SKETCH2_R)
        with Locations((60, -20)):
            Circle(SKETCH2_R)
        with Locations((60, -40)):
            Circle(SKETCH2_R)
        with Locations((60, -60)):
            Circle(SKETCH2_R)
    extrude(amount=-CUT_EXTRUDE1_DEPTH, mode=Mode.SUBTRACT)

    # Fillet1
    fillet1_edges = [part.edges().sort_by_distance(p)[0] for p in [
        (-76.5, -76.5, 1.25),
        (-76.5, 76.5, 1.25),
        (76.5, 76.5, 1.25),
        (76.5, -76.5, 1.25),
    ]]
    fillet(fillet1_edges, radius=FILLET1_R)


solid = part.part
